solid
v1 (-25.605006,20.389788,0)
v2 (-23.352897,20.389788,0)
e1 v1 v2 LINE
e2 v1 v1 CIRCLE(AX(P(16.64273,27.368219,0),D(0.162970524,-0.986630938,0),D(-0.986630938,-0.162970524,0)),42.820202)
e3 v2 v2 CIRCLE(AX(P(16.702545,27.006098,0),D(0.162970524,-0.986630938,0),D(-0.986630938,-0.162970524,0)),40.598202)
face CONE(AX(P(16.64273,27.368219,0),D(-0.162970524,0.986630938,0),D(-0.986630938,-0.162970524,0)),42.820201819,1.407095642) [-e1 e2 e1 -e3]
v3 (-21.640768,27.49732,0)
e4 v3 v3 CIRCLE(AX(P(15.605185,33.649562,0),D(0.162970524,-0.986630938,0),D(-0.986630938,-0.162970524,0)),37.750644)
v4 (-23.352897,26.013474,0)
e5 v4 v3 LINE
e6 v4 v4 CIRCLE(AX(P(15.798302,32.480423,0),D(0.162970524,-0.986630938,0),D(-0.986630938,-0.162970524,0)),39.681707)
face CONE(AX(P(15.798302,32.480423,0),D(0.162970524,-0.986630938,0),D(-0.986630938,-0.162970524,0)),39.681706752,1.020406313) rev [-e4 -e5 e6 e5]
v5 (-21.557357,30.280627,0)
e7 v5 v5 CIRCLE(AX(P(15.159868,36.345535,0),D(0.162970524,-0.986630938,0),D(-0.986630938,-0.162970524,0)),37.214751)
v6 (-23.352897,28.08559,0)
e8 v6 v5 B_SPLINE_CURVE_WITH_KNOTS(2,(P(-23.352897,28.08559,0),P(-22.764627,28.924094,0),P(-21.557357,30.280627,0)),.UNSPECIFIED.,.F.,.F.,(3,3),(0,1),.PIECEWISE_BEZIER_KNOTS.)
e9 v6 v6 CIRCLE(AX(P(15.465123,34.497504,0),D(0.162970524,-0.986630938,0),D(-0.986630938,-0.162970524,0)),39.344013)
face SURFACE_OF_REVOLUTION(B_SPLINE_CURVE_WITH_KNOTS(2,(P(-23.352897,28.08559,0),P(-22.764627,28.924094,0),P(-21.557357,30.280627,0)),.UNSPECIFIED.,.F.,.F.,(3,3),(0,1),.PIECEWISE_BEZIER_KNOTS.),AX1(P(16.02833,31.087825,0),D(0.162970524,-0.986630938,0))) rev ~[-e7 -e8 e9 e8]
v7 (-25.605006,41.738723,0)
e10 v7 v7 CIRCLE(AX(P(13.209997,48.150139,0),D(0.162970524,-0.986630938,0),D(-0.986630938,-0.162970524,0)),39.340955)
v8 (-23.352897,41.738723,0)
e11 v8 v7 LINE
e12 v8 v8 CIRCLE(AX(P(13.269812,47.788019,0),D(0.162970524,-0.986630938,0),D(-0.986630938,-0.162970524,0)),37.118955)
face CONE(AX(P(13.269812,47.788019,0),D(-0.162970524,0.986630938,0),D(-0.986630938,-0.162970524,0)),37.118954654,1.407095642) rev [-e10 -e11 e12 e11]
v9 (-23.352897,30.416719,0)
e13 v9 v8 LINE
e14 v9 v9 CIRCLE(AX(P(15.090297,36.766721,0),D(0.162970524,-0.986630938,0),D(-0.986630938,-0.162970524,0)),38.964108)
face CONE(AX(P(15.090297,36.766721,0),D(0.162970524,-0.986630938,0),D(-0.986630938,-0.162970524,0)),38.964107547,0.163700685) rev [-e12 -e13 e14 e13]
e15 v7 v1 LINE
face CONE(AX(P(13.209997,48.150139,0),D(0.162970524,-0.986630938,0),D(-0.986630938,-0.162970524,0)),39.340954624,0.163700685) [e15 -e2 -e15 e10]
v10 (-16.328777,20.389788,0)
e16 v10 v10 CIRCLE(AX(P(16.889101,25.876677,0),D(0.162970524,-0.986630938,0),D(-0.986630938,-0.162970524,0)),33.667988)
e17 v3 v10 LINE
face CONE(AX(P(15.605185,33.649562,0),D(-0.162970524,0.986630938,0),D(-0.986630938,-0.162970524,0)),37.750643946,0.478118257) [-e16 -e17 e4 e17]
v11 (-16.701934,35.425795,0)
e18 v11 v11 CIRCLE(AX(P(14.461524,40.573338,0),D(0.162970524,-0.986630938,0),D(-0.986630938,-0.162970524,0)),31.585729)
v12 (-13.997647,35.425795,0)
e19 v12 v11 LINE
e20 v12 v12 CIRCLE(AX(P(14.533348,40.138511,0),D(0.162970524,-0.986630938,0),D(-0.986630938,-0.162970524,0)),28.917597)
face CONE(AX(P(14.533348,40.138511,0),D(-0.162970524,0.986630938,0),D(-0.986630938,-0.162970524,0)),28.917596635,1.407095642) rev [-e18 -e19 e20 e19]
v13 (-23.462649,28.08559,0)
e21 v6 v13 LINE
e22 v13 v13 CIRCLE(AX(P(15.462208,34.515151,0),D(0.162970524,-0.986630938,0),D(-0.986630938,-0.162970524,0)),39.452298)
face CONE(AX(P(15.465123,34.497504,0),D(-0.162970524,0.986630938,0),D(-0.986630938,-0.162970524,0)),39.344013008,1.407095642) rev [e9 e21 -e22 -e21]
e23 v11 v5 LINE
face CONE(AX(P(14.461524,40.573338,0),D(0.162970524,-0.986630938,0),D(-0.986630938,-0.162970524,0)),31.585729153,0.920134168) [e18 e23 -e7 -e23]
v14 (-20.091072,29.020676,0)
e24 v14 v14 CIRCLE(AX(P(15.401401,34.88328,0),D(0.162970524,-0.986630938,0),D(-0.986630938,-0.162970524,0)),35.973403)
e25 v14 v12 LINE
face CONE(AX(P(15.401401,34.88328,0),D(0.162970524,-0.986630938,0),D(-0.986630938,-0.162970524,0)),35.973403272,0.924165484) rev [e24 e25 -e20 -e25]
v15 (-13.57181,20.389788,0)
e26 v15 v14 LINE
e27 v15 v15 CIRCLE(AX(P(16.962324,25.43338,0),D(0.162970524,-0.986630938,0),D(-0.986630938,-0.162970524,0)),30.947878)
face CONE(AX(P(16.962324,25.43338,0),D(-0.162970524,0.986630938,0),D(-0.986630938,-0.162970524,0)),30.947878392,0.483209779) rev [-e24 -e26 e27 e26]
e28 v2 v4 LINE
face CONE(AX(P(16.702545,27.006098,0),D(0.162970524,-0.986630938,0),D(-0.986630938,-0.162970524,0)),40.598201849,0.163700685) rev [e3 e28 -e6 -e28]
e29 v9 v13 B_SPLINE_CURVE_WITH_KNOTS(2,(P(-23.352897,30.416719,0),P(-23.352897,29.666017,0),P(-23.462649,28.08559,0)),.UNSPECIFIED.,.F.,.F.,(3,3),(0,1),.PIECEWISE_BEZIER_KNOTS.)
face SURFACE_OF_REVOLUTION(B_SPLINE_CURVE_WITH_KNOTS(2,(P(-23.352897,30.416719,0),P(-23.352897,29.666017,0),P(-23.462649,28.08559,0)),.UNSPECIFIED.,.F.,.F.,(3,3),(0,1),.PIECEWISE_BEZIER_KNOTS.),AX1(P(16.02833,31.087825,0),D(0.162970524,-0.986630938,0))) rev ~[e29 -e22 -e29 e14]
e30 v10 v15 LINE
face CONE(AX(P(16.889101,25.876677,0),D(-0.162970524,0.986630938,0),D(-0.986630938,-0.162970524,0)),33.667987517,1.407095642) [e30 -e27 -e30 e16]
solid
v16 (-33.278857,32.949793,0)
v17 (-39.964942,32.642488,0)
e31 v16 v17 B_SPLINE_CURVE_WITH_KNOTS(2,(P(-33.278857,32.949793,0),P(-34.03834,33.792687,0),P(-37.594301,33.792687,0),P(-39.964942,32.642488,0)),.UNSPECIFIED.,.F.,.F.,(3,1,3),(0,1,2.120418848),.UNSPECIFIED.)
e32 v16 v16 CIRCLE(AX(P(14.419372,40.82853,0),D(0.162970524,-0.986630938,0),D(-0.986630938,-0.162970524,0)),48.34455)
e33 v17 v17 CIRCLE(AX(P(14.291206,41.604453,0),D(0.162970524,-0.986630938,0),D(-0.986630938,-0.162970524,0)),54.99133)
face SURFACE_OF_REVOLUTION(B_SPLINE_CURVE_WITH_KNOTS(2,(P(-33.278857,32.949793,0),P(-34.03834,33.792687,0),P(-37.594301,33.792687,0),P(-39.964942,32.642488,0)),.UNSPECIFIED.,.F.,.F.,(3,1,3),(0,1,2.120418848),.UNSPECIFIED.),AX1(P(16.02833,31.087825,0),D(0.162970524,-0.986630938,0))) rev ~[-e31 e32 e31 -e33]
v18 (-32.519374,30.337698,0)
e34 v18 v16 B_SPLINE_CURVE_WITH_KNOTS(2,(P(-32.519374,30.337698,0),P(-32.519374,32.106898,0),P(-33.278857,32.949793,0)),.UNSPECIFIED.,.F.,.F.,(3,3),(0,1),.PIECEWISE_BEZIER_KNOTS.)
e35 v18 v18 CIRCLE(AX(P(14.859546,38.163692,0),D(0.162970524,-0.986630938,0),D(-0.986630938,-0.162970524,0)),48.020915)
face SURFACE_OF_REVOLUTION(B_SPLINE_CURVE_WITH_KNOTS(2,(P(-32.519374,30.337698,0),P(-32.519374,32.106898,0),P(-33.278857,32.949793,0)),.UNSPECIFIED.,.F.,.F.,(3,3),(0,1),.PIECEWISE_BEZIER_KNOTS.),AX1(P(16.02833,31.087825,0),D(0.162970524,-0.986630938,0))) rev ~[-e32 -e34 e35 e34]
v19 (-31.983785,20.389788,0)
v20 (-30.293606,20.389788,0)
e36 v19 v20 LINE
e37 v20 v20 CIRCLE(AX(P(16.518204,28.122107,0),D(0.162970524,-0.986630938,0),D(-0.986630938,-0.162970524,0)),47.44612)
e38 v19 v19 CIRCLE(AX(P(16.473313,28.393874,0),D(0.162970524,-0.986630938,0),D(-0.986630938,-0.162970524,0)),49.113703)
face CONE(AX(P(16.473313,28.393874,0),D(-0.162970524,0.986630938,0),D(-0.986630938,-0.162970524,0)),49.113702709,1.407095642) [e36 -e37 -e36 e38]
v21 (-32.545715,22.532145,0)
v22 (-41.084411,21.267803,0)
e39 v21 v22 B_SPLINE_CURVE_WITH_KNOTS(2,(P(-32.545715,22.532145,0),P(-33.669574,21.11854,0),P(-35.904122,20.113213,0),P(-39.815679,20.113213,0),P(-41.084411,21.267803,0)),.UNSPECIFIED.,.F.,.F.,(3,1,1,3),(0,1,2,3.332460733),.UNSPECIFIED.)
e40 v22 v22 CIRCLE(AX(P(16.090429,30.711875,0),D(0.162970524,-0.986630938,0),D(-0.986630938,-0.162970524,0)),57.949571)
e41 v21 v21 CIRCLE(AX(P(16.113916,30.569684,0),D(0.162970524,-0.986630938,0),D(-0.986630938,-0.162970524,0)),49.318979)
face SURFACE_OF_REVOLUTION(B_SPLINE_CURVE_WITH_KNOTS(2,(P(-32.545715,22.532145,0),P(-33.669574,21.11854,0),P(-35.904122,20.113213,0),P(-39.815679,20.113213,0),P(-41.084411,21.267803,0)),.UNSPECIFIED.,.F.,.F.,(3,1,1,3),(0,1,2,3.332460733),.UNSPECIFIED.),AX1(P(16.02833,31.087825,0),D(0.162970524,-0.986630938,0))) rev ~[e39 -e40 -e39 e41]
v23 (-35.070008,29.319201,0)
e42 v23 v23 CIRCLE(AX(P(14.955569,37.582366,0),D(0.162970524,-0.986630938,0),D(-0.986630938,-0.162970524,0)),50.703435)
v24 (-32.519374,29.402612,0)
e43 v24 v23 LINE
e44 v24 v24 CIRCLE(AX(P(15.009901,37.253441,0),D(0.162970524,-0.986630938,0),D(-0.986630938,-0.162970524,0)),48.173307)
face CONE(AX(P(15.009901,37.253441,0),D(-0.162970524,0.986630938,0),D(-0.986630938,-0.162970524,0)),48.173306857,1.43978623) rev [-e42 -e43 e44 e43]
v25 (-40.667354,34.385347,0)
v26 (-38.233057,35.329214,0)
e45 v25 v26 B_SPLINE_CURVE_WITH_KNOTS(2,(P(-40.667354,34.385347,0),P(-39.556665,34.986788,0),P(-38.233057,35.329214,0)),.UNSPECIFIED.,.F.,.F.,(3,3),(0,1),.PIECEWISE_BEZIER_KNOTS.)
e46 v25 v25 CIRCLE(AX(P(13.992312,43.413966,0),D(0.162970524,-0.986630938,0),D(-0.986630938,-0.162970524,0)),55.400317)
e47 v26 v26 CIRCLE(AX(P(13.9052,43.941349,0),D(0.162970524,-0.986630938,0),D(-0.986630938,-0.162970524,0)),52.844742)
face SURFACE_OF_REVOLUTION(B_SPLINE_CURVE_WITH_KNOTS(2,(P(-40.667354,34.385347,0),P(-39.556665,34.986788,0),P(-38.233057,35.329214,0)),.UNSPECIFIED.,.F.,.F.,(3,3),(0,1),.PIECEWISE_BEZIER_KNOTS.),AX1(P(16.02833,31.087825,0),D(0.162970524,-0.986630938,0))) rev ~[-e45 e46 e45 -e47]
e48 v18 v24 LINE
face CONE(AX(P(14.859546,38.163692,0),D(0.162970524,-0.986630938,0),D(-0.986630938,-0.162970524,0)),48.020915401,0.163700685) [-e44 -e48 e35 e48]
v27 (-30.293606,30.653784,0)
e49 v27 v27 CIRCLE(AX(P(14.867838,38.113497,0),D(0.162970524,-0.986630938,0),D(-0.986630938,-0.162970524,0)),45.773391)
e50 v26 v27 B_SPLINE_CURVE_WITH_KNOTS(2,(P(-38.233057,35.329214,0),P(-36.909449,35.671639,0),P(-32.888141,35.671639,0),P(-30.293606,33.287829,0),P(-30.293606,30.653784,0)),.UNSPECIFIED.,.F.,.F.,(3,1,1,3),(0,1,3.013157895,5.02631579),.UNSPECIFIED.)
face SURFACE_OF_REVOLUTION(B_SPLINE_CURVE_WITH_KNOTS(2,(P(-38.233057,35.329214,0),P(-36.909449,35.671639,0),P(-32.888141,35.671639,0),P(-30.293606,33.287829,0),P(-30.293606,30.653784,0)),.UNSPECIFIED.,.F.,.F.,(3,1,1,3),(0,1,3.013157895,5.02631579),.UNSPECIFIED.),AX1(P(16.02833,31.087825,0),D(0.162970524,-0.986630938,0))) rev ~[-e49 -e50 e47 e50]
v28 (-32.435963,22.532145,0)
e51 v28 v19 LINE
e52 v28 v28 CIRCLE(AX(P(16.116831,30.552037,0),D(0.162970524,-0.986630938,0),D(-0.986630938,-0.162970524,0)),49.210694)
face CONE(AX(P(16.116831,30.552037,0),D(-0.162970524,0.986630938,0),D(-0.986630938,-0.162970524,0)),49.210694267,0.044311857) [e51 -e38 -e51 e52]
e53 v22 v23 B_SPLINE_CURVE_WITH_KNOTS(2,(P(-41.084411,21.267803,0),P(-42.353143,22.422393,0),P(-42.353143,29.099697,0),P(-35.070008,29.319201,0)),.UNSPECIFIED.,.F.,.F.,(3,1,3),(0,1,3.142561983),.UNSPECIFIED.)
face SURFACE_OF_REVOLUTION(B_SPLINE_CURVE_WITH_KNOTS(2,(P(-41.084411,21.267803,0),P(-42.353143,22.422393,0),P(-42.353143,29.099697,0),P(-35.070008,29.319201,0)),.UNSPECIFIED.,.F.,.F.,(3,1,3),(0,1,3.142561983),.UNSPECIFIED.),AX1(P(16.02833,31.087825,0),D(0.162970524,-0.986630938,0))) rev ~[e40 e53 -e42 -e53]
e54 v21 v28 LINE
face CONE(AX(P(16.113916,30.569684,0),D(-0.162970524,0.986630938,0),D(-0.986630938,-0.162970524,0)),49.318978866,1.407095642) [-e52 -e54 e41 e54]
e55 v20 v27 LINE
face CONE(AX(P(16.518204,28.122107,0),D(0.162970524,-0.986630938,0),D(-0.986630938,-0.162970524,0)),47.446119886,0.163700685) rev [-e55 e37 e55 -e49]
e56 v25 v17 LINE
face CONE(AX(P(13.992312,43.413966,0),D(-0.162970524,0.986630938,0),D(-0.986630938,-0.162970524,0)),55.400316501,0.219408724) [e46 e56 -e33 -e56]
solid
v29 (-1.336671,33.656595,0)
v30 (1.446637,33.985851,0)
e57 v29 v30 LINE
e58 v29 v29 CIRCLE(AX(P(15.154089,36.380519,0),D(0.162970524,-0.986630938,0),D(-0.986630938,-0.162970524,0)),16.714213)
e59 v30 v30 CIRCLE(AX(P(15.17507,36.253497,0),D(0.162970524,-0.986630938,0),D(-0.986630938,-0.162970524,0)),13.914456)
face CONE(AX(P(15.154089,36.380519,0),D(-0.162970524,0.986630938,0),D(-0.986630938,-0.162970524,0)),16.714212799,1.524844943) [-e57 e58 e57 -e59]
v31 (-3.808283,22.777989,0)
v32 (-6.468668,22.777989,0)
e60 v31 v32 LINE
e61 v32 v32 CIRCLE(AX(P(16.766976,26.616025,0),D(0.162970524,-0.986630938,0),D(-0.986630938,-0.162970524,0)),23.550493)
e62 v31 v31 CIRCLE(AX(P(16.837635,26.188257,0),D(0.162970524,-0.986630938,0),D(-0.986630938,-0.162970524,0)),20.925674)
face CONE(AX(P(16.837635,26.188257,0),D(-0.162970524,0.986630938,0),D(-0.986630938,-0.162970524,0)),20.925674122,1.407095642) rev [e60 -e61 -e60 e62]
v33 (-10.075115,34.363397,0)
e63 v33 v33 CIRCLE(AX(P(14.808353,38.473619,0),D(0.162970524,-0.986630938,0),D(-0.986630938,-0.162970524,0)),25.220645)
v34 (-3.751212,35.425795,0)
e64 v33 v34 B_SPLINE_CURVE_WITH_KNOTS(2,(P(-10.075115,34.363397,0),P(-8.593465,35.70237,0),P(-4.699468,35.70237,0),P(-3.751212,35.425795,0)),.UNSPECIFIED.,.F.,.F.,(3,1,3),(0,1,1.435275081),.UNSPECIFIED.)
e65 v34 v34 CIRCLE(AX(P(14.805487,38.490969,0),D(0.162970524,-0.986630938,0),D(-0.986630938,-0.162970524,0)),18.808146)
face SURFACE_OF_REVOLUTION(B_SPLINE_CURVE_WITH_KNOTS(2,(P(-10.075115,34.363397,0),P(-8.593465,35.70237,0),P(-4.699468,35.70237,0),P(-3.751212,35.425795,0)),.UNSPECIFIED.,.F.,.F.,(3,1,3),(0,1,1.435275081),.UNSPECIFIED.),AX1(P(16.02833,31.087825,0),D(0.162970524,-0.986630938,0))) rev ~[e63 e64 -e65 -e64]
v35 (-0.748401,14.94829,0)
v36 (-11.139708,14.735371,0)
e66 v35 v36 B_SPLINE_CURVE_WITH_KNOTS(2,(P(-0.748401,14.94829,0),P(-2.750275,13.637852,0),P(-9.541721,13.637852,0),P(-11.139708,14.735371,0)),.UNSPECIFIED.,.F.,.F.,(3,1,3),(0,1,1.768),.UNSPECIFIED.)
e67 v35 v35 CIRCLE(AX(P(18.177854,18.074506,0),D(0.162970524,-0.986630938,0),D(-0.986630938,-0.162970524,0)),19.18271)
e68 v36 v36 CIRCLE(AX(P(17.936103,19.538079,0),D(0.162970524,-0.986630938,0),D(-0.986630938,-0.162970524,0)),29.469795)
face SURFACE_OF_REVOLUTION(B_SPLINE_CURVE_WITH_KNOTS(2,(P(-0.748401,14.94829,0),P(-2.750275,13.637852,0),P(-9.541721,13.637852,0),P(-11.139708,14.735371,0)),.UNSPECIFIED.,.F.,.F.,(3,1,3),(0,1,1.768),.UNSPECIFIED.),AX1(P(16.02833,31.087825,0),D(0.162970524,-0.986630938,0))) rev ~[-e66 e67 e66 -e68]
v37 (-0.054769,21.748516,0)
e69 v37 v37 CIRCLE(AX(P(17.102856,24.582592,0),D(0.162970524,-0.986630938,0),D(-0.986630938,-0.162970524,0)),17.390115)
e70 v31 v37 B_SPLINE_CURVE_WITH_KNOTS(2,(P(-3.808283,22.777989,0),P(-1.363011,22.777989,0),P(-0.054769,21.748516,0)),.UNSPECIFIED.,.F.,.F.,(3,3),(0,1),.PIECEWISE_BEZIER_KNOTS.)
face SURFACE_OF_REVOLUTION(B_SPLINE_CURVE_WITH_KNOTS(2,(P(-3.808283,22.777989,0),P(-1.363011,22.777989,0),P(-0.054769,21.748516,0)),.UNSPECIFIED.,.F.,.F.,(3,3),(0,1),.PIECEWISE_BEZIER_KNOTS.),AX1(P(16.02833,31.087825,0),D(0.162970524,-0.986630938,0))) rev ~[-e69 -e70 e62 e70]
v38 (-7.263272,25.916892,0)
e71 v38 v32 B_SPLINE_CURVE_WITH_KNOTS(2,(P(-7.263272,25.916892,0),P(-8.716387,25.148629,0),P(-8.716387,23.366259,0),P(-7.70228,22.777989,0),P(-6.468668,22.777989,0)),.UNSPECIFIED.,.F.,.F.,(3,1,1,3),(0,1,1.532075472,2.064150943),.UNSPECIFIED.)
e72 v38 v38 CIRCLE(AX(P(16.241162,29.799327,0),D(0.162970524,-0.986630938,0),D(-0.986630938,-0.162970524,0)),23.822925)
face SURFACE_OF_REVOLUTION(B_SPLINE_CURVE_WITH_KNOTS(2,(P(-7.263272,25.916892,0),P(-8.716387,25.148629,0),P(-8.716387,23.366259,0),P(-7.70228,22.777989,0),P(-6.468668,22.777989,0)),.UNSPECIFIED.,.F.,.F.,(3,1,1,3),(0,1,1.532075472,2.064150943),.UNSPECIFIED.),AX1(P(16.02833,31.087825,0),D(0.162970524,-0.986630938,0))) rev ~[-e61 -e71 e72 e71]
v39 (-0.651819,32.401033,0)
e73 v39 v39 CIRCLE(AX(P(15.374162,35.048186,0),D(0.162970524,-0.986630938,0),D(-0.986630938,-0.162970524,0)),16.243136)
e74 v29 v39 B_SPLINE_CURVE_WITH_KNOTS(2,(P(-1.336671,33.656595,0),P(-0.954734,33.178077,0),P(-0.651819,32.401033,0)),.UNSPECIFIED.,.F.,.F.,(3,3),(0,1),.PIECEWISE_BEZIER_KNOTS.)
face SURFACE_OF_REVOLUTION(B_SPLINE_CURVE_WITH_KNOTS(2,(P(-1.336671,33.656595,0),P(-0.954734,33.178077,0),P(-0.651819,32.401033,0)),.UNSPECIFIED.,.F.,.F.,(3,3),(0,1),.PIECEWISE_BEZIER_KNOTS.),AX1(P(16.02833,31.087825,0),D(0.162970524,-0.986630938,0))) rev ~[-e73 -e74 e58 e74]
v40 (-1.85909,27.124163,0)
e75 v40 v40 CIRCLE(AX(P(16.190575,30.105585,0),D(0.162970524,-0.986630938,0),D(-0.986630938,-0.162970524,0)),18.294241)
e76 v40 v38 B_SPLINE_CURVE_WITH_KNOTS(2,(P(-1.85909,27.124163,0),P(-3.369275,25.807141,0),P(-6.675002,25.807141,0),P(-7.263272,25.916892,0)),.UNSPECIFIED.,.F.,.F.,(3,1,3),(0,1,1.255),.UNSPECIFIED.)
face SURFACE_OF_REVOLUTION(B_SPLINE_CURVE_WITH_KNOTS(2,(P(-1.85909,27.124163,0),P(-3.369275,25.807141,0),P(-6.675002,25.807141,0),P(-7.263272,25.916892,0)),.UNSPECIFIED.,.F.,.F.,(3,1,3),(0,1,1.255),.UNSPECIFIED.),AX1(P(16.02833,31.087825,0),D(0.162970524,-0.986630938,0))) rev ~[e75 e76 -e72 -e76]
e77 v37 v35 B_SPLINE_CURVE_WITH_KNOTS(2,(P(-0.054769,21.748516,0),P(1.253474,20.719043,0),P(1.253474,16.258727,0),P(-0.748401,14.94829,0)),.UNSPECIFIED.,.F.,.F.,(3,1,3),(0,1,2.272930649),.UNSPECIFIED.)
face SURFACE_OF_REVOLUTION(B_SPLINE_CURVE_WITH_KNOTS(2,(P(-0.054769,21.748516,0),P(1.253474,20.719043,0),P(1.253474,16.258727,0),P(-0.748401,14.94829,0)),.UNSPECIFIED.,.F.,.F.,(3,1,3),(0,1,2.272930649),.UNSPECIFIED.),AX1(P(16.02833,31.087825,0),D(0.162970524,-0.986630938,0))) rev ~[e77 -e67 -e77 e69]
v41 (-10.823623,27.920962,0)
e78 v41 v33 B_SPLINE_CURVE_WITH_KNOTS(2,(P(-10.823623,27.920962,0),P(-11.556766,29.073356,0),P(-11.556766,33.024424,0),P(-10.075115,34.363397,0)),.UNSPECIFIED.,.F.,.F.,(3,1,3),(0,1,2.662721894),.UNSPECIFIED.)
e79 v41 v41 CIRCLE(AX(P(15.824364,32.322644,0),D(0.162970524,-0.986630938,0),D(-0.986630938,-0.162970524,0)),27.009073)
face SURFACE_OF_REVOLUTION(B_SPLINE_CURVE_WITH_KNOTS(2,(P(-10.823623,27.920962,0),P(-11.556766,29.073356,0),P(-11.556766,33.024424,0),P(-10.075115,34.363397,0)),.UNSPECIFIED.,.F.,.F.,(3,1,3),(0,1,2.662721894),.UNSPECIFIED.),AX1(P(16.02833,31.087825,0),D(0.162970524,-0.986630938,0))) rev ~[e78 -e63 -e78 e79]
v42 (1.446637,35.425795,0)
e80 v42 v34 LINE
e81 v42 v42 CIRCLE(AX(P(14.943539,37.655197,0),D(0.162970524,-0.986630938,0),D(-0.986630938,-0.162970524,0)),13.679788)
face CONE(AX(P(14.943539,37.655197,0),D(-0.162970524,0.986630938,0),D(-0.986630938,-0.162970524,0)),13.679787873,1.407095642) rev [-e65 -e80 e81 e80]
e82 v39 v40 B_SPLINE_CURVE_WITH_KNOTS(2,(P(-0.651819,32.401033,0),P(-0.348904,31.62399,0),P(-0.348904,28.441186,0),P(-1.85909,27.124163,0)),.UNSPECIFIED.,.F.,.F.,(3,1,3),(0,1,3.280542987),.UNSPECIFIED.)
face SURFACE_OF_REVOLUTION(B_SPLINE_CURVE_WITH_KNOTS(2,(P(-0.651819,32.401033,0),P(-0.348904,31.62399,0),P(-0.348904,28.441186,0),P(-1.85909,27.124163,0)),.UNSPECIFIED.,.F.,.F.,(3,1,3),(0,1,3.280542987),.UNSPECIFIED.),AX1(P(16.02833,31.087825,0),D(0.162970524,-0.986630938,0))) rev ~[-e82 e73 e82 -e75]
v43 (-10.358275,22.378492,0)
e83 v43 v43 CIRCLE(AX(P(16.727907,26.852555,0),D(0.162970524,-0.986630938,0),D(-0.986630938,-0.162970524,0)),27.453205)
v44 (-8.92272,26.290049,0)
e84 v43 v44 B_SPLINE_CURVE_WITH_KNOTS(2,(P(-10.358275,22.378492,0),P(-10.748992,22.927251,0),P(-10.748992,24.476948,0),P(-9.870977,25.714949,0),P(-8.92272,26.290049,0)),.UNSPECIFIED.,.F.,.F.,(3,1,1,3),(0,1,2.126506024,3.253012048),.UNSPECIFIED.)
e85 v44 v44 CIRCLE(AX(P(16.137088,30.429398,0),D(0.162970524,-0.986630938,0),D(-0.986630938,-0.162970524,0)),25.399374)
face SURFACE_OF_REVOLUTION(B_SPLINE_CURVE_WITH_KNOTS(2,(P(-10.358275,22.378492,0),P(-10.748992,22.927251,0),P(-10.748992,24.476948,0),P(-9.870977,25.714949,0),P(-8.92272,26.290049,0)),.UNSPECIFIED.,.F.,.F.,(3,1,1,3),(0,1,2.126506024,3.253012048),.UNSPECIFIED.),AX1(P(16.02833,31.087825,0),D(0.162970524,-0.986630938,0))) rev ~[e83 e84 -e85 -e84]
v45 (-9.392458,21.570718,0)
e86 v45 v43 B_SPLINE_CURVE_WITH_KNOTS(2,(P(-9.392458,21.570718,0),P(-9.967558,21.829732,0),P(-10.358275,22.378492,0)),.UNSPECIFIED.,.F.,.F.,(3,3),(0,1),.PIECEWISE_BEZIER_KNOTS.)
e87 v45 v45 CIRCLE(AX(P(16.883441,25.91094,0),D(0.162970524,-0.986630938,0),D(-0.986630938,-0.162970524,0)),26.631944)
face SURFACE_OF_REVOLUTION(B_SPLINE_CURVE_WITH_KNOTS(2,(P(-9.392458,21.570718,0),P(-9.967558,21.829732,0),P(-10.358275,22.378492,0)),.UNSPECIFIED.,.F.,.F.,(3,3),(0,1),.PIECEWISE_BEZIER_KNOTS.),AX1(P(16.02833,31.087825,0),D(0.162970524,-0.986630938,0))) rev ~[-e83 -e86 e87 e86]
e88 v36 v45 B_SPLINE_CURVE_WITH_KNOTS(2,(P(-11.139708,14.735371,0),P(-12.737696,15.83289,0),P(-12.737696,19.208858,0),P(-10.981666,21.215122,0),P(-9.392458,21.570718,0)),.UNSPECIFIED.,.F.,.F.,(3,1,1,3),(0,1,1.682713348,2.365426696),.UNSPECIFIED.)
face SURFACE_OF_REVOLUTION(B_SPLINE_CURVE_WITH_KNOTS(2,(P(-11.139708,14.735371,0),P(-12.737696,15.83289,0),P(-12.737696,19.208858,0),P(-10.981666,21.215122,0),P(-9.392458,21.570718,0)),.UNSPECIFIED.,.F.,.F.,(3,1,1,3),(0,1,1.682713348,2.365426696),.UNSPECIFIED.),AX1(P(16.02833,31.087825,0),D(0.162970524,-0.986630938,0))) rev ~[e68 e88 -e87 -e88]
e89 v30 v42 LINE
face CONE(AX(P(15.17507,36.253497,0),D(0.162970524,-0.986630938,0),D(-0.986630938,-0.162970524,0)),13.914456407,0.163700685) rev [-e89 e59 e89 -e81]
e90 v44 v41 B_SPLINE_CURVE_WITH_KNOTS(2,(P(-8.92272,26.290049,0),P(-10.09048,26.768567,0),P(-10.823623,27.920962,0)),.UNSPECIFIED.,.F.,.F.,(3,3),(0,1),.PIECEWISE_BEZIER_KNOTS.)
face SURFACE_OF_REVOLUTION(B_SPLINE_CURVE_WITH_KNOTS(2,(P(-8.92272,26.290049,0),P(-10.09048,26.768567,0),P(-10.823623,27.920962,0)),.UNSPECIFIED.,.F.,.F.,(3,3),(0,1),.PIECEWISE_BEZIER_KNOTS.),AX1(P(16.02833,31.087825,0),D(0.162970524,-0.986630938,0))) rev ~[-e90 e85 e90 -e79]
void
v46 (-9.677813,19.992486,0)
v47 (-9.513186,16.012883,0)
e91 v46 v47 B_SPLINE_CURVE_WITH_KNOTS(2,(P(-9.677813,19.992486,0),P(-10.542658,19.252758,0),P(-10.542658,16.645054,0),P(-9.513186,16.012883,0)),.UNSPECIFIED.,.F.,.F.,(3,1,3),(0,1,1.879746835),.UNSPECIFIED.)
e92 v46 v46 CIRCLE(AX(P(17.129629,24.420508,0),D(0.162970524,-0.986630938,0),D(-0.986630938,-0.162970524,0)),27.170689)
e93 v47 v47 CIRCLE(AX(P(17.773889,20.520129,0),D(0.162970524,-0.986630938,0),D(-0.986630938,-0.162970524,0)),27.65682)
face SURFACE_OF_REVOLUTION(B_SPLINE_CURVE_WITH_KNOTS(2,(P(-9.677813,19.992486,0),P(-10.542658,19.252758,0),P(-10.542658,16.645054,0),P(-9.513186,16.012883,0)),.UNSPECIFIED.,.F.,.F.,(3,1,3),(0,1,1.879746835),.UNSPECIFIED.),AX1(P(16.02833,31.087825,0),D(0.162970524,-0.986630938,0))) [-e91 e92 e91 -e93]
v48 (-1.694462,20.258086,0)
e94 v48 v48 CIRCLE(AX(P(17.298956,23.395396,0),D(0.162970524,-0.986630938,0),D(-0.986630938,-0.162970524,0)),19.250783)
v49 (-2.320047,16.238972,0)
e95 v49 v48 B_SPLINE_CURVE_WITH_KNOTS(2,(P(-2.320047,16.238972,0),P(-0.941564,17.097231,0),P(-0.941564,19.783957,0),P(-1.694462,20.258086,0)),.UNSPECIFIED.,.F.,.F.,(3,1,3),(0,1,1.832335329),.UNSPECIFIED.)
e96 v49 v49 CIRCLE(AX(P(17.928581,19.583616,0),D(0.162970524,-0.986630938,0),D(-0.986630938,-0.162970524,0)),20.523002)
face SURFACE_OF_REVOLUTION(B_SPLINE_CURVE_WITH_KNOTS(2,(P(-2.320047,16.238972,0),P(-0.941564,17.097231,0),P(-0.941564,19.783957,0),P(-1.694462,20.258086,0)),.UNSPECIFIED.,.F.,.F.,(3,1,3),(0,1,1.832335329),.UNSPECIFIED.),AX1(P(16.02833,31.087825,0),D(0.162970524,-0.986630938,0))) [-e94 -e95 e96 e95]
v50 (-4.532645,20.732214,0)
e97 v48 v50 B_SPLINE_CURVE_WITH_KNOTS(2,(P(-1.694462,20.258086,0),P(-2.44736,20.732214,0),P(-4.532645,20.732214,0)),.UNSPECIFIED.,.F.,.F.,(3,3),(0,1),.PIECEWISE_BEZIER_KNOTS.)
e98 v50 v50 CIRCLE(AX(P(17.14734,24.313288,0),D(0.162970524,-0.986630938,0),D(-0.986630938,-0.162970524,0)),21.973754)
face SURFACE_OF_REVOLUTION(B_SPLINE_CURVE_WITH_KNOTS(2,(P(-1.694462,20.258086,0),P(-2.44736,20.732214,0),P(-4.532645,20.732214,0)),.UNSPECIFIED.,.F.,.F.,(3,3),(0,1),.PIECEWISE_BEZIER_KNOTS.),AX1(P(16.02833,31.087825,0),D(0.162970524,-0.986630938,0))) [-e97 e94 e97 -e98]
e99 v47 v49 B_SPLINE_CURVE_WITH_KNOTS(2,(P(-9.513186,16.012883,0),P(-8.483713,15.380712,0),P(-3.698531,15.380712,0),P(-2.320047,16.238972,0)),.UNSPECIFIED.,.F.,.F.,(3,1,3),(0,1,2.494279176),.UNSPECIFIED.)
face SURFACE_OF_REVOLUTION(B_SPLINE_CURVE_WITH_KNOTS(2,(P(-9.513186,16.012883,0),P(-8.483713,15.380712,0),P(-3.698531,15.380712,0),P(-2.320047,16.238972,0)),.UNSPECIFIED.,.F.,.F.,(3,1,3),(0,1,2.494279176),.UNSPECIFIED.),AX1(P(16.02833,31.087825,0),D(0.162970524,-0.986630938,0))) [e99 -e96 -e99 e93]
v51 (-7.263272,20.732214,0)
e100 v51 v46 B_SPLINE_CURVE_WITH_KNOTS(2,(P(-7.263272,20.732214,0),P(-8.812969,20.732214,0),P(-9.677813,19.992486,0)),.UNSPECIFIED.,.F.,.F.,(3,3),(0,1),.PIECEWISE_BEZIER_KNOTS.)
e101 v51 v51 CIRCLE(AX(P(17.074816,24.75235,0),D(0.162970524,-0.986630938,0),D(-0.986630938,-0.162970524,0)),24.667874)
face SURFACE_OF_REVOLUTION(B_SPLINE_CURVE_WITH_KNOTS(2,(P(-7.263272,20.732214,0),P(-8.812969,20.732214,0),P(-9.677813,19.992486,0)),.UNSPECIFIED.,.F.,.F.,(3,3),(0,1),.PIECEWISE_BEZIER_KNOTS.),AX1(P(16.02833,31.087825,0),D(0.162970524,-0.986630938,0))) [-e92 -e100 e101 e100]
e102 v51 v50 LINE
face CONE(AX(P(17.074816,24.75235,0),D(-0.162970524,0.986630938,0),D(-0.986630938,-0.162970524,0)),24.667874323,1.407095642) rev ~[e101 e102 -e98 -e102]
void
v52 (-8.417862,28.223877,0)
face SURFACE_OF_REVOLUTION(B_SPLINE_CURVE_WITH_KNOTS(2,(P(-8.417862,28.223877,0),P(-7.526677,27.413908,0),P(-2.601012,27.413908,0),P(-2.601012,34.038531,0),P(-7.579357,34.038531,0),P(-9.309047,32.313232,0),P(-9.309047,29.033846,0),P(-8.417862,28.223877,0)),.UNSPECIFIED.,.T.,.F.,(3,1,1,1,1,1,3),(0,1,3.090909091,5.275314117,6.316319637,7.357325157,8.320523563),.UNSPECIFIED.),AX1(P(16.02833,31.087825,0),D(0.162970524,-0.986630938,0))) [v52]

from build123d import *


with BuildPart() as f2:
    # F1 (on face) → F2 (revolve)
    with BuildSketch(Plane.XY):
        with BuildLine():
            Line((-32.5457147943, 22.5321445226), (-32.4359629158, 22.5321445226))
            Line((-32.4359629158, 22.5321445226), (-31.983785176, 20.3897878528))
            Line((-31.983785176, 20.3897878528), (-30.2936062459, 20.3897878528))
            Line((-30.2936062459, 20.3897878528), (-30.2936062459, 30.6537835374))
            add(Edge.make_bspline(
                [(-31.5908734507, 34.4797340246), (-30.2936062459, 33.2878286232), (-30.2936062459, 30.6537835374)],
                knots=[0, 0, 0, 1, 1, 1], degree=2))
            add(Edge.make_bspline(
                [(-35.5748666431, 35.671639426), (-32.8881406555, 35.671639426), (-31.5908734507, 34.4797340246)],
                knots=[0, 0, 0, 1, 1, 1], degree=2))
            add(Edge.make_bspline(
                [(-38.2330571423, 35.3292135648), (-36.9094494866, 35.671639426), (-35.5748666431, 35.671639426)],
                knots=[0, 0, 0, 1, 1, 1], degree=2))
            add(Edge.make_bspline(
                [(-40.6673538091, 34.385347409), (-39.5566647979, 34.9867877036), (-38.2330571423, 35.3292135648)],
                knots=[0, 0, 0, 1, 1, 1], degree=2))
            Line((-40.6673538091, 34.385347409), (-39.9649417862, 32.6424875772))
            add(Edge.make_bspline(
                [(-35.7153490477, 33.7926872647), (-37.5943012089, 33.7926872647), (-39.9649417862, 32.6424875772)],
                knots=[0, 0, 0, 1, 1, 1], degree=2))
            add(Edge.make_bspline(
                [(-33.2788573432, 32.9497928372), (-34.038340343, 33.7926872647), (-35.7153490477, 33.7926872647)],
                knots=[0, 0, 0, 1, 1, 1], degree=2))
            add(Edge.make_bspline(
                [(-32.5193743435, 30.3376981271), (-32.5193743435, 32.1068984097), (-33.2788573432, 32.9497928372)],
                knots=[0, 0, 0, 1, 1, 1], degree=2))
            Line((-32.5193743435, 30.3376981271), (-32.5193743435, 29.4026121216))
            Line((-32.5193743435, 29.4026121216), (-35.0700080016, 29.3192006939))
            add(Edge.make_bspline(
                [(-42.3531426641, 24.5471890133), (-42.3531426641, 29.0996969367), (-35.0700080016, 29.3192006939)],
                knots=[0, 0, 0, 1, 1, 1], degree=2))
            add(Edge.make_bspline(
                [(-41.0844109477, 21.2678028814), (-42.3531426641, 22.422392644), (-42.3531426641, 24.5471890133)],
                knots=[0, 0, 0, 1, 1, 1], degree=2))
            add(Edge.make_bspline(
                [(-37.5811309835, 20.1132131187), (-39.8156792313, 20.1132131187), (-41.0844109477, 21.2678028814)],
                knots=[0, 0, 0, 1, 1, 1], degree=2))
            add(Edge.make_bspline(
                [(-34.7868481549, 20.6158767226), (-35.9041222788, 20.1132131187), (-37.5811309835, 20.1132131187)],
                knots=[0, 0, 0, 1, 1, 1], degree=2))
            add(Edge.make_bspline(
                [(-32.5457147943, 22.5321445226), (-33.669574031, 21.1185403265), (-34.7868481549, 20.6158767226)],
                knots=[0, 0, 0, 1, 1, 1], degree=2))
        make_face()
        with BuildLine():
            add(Edge.make_bspline(
                [(-37.1289532438, 21.9965553551), (-34.9997667993, 21.9965553551), (-33.7859110223, 23.1621203056)],
                knots=[0, 0, 0, 1, 1, 1], degree=2))
            add(Edge.make_bspline(
                [(-39.2186290119, 22.6397013636), (-38.4723162376, 21.9965553551), (-37.1289532438, 21.9965553551)],
                knots=[0, 0, 0, 1, 1, 1], degree=2))
            add(Edge.make_bspline(
                [(-39.9649417862, 24.5208485624), (-39.9649417862, 23.2828473721), (-39.2186290119, 22.6397013636)],
                knots=[0, 0, 0, 1, 1, 1], degree=2))
            add(Edge.make_bspline(
                [(-38.7664512721, 26.8453933507), (-39.9649417862, 26.0968855388), (-39.9649417862, 24.5208485624)],
                knots=[0, 0, 0, 1, 1, 1], degree=2))
            add(Edge.make_bspline(
                [(-34.8505042445, 27.6904828158), (-37.5679607581, 27.5939011626), (-38.7664512721, 26.8453933507)],
                knots=[0, 0, 0, 1, 1, 1], degree=2))
            Line((-34.8505042445, 27.6904828158), (-32.5720552452, 27.7826743938))
            Line((-32.5720552452, 27.7826743938), (-32.5720552452, 26.4261411745))
            add(Edge.make_bspline(
                [(-33.7859110223, 23.1621203056), (-32.5720552452, 24.3276852561), (-32.5720552452, 26.4261411745)],
                knots=[0, 0, 0, 1, 1, 1], degree=2))
        make_face(mode=Mode.SUBTRACT)
        with BuildLine():
            add(Edge.make_bspline(
                [(-39.2186290119, 22.6397013636), (-38.4723162376, 21.9965553551), (-37.1289532438, 21.9965553551)],
                knots=[0, 0, 0, 1, 1, 1], degree=2))
            add(Edge.make_bspline(
                [(-37.1289532438, 21.9965553551), (-34.9997667993, 21.9965553551), (-33.7859110223, 23.1621203056)],
                knots=[0, 0, 0, 1, 1, 1], degree=2))
            add(Edge.make_bspline(
                [(-33.7859110223, 23.1621203056), (-32.5720552452, 24.3276852561), (-32.5720552452, 26.4261411745)],
                knots=[0, 0, 0, 1, 1, 1], degree=2))
            Line((-32.5720552452, 26.4261411745), (-32.5720552452, 27.7826743938))
            Line((-32.5720552452, 27.7826743938), (-34.8505042445, 27.6904828158))
            add(Edge.make_bspline(
                [(-34.8505042445, 27.6904828158), (-37.5679607581, 27.5939011626), (-38.7664512721, 26.8453933507)],
                knots=[0, 0, 0, 1, 1, 1], degree=2))
            add(Edge.make_bspline(
                [(-38.7664512721, 26.8453933507), (-39.9649417862, 26.0968855388), (-39.9649417862, 24.5208485624)],
                knots=[0, 0, 0, 1, 1, 1], degree=2))
            add(Edge.make_bspline(
                [(-39.9649417862, 24.5208485624), (-39.9649417862, 23.2828473721), (-39.2186290119, 22.6397013636)],
                knots=[0, 0, 0, 1, 1, 1], degree=2))
        make_face()
    revolve(axis=Axis((16.02832973, 31.0878250748, 0), (0.1629705241, -0.9866309382, 0)))


with BuildPart() as f2b:
    # F1 (on face) → F2, piece 2 (revolve)
    with BuildSketch(Plane.XY):
        with BuildLine():
            add(Edge.make_bspline(
                [(-23.3528974447, 28.0855895786), (-22.7646273755, 28.924093931), (-21.5573567111, 30.2806271502)],
                knots=[0, 0, 0, 1, 1, 1], degree=2))
            Line((-23.3528974447, 28.0855895786), (-23.4626493232, 28.0855895786))
            add(Edge.make_bspline(
                [(-23.3528974447, 30.4167194796), (-23.3528974447, 29.6660166302), (-23.4626493232, 28.0855895786)],
                knots=[0, 0, 0, 1, 1, 1], degree=2))
            Line((-23.3528974447, 30.4167194796), (-23.3528974447, 41.7387232737))
            Line((-23.3528974447, 41.7387232737), (-25.6050059931, 41.7387232737))
            Line((-25.6050059931, 41.7387232737), (-25.6050059931, 20.3897878528))
            Line((-25.6050059931, 20.3897878528), (-23.3528974447, 20.3897878528))
            Line((-23.3528974447, 20.3897878528), (-23.3528974447, 26.0134741111))
            Line((-23.3528974447, 26.0134741111), (-21.6407681388, 27.4973195095))
            Line((-21.6407681388, 27.4973195095), (-16.3287772157, 20.3897878528))
            Line((-16.3287772157, 20.3897878528), (-13.5718100258, 20.3897878528))
            Line((-13.5718100258, 20.3897878528), (-20.0910716133, 29.0206755841))
            Line((-20.0910716133, 29.0206755841), (-13.9976473147, 35.4257952179))
            Line((-13.9976473147, 35.4257952179), (-16.7019336028, 35.4257952179))
            Line((-16.7019336028, 35.4257952179), (-21.5573567111, 30.2806271502))
        make_face()
    revolve(axis=Axis((16.02832973, 31.0878250748, 0), (0.1629705241, -0.9866309382, 0)))


with BuildPart() as f2c:
    # F1 (on face) → F2, piece 3 (revolve)
    with BuildSketch(Plane.XY):
        with BuildLine():
            Line((-1.3366706019, 33.6565949353), (1.4466370388, 33.985850571))
            Line((1.4466370388, 33.985850571), (1.4466370388, 35.4257952179))
            Line((1.4466370388, 35.4257952179), (-3.7512119306, 35.4257952179))
            add(Edge.make_bspline(
                [(-5.8803983751, 35.702369952), (-4.6994681616, 35.702369952), (-3.7512119306, 35.4257952179)],
                knots=[0, 0, 0, 1, 1, 1], degree=2))
            add(Edge.make_bspline(
                [(-10.0751151743, 34.3633970333), (-8.5934648135, 35.702369952), (-5.8803983751, 35.702369952)],
                knots=[0, 0, 0, 1, 1, 1], degree=2))
            add(Edge.make_bspline(
                [(-11.5567655351, 30.5572018842), (-11.5567655351, 33.0244241147), (-10.0751151743, 34.3633970333)],
                knots=[0, 0, 0, 1, 1, 1], degree=2))
            add(Edge.make_bspline(
                [(-10.8236229862, 27.9209617608), (-11.5567655351, 29.0733564858), (-11.5567655351, 30.5572018842)],
                knots=[0, 0, 0, 1, 1, 1], degree=2))
            add(Edge.make_bspline(
                [(-8.9227204492, 26.2900488451), (-10.0904804373, 26.7685670357), (-10.8236229862, 27.9209617608)],
                knots=[0, 0, 0, 1, 1, 1], degree=2))
            add(Edge.make_bspline(
                [(-10.3099841945, 25.0959484062), (-9.8709766802, 25.7149490014), (-8.9227204492, 26.2900488451)],
                knots=[0, 0, 0, 1, 1, 1], degree=2))
            add(Edge.make_bspline(
                [(-10.7489917088, 23.6560037592), (-10.7489917088, 24.476947811), (-10.3099841945, 25.0959484062)],
                knots=[0, 0, 0, 1, 1, 1], degree=2))
            add(Edge.make_bspline(
                [(-10.358275021, 22.3784918926), (-10.7489917088, 22.9272512855), (-10.7489917088, 23.6560037592)],
                knots=[0, 0, 0, 1, 1, 1], degree=2))
            add(Edge.make_bspline(
                [(-9.3924584896, 21.5707180663), (-9.9675583333, 21.8297324997), (-10.358275021, 22.3784918926)],
                knots=[0, 0, 0, 1, 1, 1], degree=2))
            add(Edge.make_bspline(
                [(-11.85968072, 20.2119898095), (-10.9816656914, 21.2151219797), (-9.3924584896, 21.5707180663)],
                knots=[0, 0, 0, 1, 1, 1], degree=2))
            add(Edge.make_bspline(
                [(-12.7376957486, 17.8391541946), (-12.7376957486, 19.2088576393), (-11.85968072, 20.2119898095)],
                knots=[0, 0, 0, 1, 1, 1], degree=2))
            add(Edge.make_bspline(
                [(-11.1397083965, 14.7353710684), (-12.7376957486, 15.8328898542), (-12.7376957486, 17.8391541946)],
                knots=[0, 0, 0, 1, 1, 1], degree=2))
            add(Edge.make_bspline(
                [(-6.5915905482, 13.6378522827), (-9.5417210444, 13.6378522827), (-11.1397083965, 14.7353710684)],
                knots=[0, 0, 0, 1, 1, 1], degree=2))
            add(Edge.make_bspline(
                [(-0.7484005328, 14.9482897129), (-2.750274798, 13.6378522827), (-6.5915905482, 13.6378522827)],
                knots=[0, 0, 0, 1, 1, 1], degree=2))
            add(Edge.make_bspline(
                [(1.2534737325, 18.7566798995), (1.2534737325, 16.2587271431), (-0.7484005328, 14.9482897129)],
                knots=[0, 0, 0, 1, 1, 1], degree=2))
            add(Edge.make_bspline(
                [(-0.0547686601, 21.7485161096), (1.2534737325, 20.7190434885), (1.2534737325, 18.7566798995)],
                knots=[0, 0, 0, 1, 1, 1], degree=2))
            add(Edge.make_bspline(
                [(-3.8082829075, 22.7779887306), (-1.3630110528, 22.7779887306), (-0.0547686601, 21.7485161096)],
                knots=[0, 0, 0, 1, 1, 1], degree=2))
            Line((-3.8082829075, 22.7779887306), (-6.4686684442, 22.7779887306))
            add(Edge.make_bspline(
                [(-8.2093332385, 23.0721237652), (-7.7022795595, 22.7779887306), (-6.4686684442, 22.7779887306)],
                knots=[0, 0, 0, 1, 1, 1], degree=2))
            add(Edge.make_bspline(
                [(-8.7163869175, 23.985259395), (-8.7163869175, 23.3662587998), (-8.2093332385, 23.0721237652)],
                knots=[0, 0, 0, 1, 1, 1], degree=2))
            add(Edge.make_bspline(
                [(-7.2632720451, 25.9168924579), (-8.7163869175, 25.1486293079), (-8.7163869175, 23.985259395)],
                knots=[0, 0, 0, 1, 1, 1], degree=2))
            add(Edge.make_bspline(
                [(-6.0033204791, 25.8071405794), (-6.675001976, 25.8071405794), (-7.2632720451, 25.9168924579)],
                knots=[0, 0, 0, 1, 1, 1], degree=2))
            add(Edge.make_bspline(
                [(-1.859089544, 27.1241631223), (-3.3692753932, 25.8071405794), (-6.0033204791, 25.8071405794)],
                knots=[0, 0, 0, 1, 1, 1], degree=2))
            add(Edge.make_bspline(
                [(-0.3489036947, 30.6537835374), (-0.3489036947, 28.4411856652), (-1.859089544, 27.1241631223)],
                knots=[0, 0, 0, 1, 1, 1], degree=2))
            add(Edge.make_bspline(
                [(-0.6518188796, 32.4010334443), (-0.3489036947, 31.623990144), (-0.3489036947, 30.6537835374)],
                knots=[0, 0, 0, 1, 1, 1], degree=2))
            add(Edge.make_bspline(
                [(-1.3366706019, 33.6565949353), (-0.9547340645, 33.1780767447), (-0.6518188796, 32.4010334443)],
                knots=[0, 0, 0, 1, 1, 1], degree=2))
        make_face()
        with BuildLine():
            add(Edge.make_bspline(
                [(-10.542658177, 17.8654946455), (-10.542658177, 16.6450537557), (-9.513185556, 16.0128829351)],
                knots=[0, 0, 0, 1, 1, 1], degree=2))
            add(Edge.make_bspline(
                [(-9.6778133739, 19.9924860523), (-10.542658177, 19.2527583907), (-10.542658177, 17.8654946455)],
                knots=[0, 0, 0, 1, 1, 1], degree=2))
            add(Edge.make_bspline(
                [(-7.2632720451, 20.7322137139), (-8.8129685707, 20.7322137139), (-9.6778133739, 19.9924860523)],
                knots=[0, 0, 0, 1, 1, 1], degree=2))
            Line((-7.2632720451, 20.7322137139), (-4.5326453061, 20.7322137139))
            add(Edge.make_bspline(
                [(-1.6944617261, 20.2580855985), (-2.4473596131, 20.7322137139), (-4.5326453061, 20.7322137139)],
                knots=[0, 0, 0, 1, 1, 1], degree=2))
            add(Edge.make_bspline(
                [(-0.9415638391, 18.5635165932), (-0.9415638391, 19.783957483), (-1.6944617261, 20.2580855985)],
                knots=[0, 0, 0, 1, 1, 1], degree=2))
            add(Edge.make_bspline(
                [(-2.320047434, 16.2389718049), (-0.9415638391, 17.0972314954), (-0.9415638391, 18.5635165932)],
                knots=[0, 0, 0, 1, 1, 1], degree=2))
            add(Edge.make_bspline(
                [(-6.5652500974, 15.3807121145), (-3.6985310289, 15.3807121145), (-2.320047434, 16.2389718049)],
                knots=[0, 0, 0, 1, 1, 1], degree=2))
            add(Edge.make_bspline(
                [(-9.513185556, 16.0128829351), (-8.4837129349, 15.3807121145), (-6.5652500974, 15.3807121145)],
                knots=[0, 0, 0, 1, 1, 1], degree=2))
        make_face(mode=Mode.SUBTRACT)
        with BuildLine():
            add(Edge.make_bspline(
                [(-9.3090470618, 30.6098827859), (-9.3090470618, 29.0338458096), (-8.4178618078, 28.2238769457)],
                knots=[0, 0, 0, 1, 1, 1], degree=2))
            add(Edge.make_bspline(
                [(-8.4442022586, 33.1758817071), (-9.3090470618, 32.3132319415), (-9.3090470618, 30.6098827859)],
                knots=[0, 0, 0, 1, 1, 1], degree=2))
            add(Edge.make_bspline(
                [(-5.9725899531, 34.0385314727), (-7.5793574554, 34.0385314727), (-8.4442022586, 33.1758817071)],
                knots=[0, 0, 0, 1, 1, 1], degree=2))
            add(Edge.make_bspline(
                [(-2.6010122432, 30.6537835374), (-2.6010122432, 34.0385314727), (-5.9725899531, 34.0385314727)],
                knots=[0, 0, 0, 1, 1, 1], degree=2))
            add(Edge.make_bspline(
                [(-5.9330792768, 27.4139080818), (-2.6010122432, 27.4139080818), (-2.6010122432, 30.6537835374)],
                knots=[0, 0, 0, 1, 1, 1], degree=2))
            add(Edge.make_bspline(
                [(-8.4178618078, 28.2238769457), (-7.5266765537, 27.4139080818), (-5.9330792768, 27.4139080818)],
                knots=[0, 0, 0, 1, 1, 1], degree=2))
        make_face(mode=Mode.SUBTRACT)
    revolve(axis=Axis((16.02832973, 31.0878250748, 0), (0.1629705241, -0.9866309382, 0)))


solid = Compound([f2.part, f2b.part, f2c.part])
